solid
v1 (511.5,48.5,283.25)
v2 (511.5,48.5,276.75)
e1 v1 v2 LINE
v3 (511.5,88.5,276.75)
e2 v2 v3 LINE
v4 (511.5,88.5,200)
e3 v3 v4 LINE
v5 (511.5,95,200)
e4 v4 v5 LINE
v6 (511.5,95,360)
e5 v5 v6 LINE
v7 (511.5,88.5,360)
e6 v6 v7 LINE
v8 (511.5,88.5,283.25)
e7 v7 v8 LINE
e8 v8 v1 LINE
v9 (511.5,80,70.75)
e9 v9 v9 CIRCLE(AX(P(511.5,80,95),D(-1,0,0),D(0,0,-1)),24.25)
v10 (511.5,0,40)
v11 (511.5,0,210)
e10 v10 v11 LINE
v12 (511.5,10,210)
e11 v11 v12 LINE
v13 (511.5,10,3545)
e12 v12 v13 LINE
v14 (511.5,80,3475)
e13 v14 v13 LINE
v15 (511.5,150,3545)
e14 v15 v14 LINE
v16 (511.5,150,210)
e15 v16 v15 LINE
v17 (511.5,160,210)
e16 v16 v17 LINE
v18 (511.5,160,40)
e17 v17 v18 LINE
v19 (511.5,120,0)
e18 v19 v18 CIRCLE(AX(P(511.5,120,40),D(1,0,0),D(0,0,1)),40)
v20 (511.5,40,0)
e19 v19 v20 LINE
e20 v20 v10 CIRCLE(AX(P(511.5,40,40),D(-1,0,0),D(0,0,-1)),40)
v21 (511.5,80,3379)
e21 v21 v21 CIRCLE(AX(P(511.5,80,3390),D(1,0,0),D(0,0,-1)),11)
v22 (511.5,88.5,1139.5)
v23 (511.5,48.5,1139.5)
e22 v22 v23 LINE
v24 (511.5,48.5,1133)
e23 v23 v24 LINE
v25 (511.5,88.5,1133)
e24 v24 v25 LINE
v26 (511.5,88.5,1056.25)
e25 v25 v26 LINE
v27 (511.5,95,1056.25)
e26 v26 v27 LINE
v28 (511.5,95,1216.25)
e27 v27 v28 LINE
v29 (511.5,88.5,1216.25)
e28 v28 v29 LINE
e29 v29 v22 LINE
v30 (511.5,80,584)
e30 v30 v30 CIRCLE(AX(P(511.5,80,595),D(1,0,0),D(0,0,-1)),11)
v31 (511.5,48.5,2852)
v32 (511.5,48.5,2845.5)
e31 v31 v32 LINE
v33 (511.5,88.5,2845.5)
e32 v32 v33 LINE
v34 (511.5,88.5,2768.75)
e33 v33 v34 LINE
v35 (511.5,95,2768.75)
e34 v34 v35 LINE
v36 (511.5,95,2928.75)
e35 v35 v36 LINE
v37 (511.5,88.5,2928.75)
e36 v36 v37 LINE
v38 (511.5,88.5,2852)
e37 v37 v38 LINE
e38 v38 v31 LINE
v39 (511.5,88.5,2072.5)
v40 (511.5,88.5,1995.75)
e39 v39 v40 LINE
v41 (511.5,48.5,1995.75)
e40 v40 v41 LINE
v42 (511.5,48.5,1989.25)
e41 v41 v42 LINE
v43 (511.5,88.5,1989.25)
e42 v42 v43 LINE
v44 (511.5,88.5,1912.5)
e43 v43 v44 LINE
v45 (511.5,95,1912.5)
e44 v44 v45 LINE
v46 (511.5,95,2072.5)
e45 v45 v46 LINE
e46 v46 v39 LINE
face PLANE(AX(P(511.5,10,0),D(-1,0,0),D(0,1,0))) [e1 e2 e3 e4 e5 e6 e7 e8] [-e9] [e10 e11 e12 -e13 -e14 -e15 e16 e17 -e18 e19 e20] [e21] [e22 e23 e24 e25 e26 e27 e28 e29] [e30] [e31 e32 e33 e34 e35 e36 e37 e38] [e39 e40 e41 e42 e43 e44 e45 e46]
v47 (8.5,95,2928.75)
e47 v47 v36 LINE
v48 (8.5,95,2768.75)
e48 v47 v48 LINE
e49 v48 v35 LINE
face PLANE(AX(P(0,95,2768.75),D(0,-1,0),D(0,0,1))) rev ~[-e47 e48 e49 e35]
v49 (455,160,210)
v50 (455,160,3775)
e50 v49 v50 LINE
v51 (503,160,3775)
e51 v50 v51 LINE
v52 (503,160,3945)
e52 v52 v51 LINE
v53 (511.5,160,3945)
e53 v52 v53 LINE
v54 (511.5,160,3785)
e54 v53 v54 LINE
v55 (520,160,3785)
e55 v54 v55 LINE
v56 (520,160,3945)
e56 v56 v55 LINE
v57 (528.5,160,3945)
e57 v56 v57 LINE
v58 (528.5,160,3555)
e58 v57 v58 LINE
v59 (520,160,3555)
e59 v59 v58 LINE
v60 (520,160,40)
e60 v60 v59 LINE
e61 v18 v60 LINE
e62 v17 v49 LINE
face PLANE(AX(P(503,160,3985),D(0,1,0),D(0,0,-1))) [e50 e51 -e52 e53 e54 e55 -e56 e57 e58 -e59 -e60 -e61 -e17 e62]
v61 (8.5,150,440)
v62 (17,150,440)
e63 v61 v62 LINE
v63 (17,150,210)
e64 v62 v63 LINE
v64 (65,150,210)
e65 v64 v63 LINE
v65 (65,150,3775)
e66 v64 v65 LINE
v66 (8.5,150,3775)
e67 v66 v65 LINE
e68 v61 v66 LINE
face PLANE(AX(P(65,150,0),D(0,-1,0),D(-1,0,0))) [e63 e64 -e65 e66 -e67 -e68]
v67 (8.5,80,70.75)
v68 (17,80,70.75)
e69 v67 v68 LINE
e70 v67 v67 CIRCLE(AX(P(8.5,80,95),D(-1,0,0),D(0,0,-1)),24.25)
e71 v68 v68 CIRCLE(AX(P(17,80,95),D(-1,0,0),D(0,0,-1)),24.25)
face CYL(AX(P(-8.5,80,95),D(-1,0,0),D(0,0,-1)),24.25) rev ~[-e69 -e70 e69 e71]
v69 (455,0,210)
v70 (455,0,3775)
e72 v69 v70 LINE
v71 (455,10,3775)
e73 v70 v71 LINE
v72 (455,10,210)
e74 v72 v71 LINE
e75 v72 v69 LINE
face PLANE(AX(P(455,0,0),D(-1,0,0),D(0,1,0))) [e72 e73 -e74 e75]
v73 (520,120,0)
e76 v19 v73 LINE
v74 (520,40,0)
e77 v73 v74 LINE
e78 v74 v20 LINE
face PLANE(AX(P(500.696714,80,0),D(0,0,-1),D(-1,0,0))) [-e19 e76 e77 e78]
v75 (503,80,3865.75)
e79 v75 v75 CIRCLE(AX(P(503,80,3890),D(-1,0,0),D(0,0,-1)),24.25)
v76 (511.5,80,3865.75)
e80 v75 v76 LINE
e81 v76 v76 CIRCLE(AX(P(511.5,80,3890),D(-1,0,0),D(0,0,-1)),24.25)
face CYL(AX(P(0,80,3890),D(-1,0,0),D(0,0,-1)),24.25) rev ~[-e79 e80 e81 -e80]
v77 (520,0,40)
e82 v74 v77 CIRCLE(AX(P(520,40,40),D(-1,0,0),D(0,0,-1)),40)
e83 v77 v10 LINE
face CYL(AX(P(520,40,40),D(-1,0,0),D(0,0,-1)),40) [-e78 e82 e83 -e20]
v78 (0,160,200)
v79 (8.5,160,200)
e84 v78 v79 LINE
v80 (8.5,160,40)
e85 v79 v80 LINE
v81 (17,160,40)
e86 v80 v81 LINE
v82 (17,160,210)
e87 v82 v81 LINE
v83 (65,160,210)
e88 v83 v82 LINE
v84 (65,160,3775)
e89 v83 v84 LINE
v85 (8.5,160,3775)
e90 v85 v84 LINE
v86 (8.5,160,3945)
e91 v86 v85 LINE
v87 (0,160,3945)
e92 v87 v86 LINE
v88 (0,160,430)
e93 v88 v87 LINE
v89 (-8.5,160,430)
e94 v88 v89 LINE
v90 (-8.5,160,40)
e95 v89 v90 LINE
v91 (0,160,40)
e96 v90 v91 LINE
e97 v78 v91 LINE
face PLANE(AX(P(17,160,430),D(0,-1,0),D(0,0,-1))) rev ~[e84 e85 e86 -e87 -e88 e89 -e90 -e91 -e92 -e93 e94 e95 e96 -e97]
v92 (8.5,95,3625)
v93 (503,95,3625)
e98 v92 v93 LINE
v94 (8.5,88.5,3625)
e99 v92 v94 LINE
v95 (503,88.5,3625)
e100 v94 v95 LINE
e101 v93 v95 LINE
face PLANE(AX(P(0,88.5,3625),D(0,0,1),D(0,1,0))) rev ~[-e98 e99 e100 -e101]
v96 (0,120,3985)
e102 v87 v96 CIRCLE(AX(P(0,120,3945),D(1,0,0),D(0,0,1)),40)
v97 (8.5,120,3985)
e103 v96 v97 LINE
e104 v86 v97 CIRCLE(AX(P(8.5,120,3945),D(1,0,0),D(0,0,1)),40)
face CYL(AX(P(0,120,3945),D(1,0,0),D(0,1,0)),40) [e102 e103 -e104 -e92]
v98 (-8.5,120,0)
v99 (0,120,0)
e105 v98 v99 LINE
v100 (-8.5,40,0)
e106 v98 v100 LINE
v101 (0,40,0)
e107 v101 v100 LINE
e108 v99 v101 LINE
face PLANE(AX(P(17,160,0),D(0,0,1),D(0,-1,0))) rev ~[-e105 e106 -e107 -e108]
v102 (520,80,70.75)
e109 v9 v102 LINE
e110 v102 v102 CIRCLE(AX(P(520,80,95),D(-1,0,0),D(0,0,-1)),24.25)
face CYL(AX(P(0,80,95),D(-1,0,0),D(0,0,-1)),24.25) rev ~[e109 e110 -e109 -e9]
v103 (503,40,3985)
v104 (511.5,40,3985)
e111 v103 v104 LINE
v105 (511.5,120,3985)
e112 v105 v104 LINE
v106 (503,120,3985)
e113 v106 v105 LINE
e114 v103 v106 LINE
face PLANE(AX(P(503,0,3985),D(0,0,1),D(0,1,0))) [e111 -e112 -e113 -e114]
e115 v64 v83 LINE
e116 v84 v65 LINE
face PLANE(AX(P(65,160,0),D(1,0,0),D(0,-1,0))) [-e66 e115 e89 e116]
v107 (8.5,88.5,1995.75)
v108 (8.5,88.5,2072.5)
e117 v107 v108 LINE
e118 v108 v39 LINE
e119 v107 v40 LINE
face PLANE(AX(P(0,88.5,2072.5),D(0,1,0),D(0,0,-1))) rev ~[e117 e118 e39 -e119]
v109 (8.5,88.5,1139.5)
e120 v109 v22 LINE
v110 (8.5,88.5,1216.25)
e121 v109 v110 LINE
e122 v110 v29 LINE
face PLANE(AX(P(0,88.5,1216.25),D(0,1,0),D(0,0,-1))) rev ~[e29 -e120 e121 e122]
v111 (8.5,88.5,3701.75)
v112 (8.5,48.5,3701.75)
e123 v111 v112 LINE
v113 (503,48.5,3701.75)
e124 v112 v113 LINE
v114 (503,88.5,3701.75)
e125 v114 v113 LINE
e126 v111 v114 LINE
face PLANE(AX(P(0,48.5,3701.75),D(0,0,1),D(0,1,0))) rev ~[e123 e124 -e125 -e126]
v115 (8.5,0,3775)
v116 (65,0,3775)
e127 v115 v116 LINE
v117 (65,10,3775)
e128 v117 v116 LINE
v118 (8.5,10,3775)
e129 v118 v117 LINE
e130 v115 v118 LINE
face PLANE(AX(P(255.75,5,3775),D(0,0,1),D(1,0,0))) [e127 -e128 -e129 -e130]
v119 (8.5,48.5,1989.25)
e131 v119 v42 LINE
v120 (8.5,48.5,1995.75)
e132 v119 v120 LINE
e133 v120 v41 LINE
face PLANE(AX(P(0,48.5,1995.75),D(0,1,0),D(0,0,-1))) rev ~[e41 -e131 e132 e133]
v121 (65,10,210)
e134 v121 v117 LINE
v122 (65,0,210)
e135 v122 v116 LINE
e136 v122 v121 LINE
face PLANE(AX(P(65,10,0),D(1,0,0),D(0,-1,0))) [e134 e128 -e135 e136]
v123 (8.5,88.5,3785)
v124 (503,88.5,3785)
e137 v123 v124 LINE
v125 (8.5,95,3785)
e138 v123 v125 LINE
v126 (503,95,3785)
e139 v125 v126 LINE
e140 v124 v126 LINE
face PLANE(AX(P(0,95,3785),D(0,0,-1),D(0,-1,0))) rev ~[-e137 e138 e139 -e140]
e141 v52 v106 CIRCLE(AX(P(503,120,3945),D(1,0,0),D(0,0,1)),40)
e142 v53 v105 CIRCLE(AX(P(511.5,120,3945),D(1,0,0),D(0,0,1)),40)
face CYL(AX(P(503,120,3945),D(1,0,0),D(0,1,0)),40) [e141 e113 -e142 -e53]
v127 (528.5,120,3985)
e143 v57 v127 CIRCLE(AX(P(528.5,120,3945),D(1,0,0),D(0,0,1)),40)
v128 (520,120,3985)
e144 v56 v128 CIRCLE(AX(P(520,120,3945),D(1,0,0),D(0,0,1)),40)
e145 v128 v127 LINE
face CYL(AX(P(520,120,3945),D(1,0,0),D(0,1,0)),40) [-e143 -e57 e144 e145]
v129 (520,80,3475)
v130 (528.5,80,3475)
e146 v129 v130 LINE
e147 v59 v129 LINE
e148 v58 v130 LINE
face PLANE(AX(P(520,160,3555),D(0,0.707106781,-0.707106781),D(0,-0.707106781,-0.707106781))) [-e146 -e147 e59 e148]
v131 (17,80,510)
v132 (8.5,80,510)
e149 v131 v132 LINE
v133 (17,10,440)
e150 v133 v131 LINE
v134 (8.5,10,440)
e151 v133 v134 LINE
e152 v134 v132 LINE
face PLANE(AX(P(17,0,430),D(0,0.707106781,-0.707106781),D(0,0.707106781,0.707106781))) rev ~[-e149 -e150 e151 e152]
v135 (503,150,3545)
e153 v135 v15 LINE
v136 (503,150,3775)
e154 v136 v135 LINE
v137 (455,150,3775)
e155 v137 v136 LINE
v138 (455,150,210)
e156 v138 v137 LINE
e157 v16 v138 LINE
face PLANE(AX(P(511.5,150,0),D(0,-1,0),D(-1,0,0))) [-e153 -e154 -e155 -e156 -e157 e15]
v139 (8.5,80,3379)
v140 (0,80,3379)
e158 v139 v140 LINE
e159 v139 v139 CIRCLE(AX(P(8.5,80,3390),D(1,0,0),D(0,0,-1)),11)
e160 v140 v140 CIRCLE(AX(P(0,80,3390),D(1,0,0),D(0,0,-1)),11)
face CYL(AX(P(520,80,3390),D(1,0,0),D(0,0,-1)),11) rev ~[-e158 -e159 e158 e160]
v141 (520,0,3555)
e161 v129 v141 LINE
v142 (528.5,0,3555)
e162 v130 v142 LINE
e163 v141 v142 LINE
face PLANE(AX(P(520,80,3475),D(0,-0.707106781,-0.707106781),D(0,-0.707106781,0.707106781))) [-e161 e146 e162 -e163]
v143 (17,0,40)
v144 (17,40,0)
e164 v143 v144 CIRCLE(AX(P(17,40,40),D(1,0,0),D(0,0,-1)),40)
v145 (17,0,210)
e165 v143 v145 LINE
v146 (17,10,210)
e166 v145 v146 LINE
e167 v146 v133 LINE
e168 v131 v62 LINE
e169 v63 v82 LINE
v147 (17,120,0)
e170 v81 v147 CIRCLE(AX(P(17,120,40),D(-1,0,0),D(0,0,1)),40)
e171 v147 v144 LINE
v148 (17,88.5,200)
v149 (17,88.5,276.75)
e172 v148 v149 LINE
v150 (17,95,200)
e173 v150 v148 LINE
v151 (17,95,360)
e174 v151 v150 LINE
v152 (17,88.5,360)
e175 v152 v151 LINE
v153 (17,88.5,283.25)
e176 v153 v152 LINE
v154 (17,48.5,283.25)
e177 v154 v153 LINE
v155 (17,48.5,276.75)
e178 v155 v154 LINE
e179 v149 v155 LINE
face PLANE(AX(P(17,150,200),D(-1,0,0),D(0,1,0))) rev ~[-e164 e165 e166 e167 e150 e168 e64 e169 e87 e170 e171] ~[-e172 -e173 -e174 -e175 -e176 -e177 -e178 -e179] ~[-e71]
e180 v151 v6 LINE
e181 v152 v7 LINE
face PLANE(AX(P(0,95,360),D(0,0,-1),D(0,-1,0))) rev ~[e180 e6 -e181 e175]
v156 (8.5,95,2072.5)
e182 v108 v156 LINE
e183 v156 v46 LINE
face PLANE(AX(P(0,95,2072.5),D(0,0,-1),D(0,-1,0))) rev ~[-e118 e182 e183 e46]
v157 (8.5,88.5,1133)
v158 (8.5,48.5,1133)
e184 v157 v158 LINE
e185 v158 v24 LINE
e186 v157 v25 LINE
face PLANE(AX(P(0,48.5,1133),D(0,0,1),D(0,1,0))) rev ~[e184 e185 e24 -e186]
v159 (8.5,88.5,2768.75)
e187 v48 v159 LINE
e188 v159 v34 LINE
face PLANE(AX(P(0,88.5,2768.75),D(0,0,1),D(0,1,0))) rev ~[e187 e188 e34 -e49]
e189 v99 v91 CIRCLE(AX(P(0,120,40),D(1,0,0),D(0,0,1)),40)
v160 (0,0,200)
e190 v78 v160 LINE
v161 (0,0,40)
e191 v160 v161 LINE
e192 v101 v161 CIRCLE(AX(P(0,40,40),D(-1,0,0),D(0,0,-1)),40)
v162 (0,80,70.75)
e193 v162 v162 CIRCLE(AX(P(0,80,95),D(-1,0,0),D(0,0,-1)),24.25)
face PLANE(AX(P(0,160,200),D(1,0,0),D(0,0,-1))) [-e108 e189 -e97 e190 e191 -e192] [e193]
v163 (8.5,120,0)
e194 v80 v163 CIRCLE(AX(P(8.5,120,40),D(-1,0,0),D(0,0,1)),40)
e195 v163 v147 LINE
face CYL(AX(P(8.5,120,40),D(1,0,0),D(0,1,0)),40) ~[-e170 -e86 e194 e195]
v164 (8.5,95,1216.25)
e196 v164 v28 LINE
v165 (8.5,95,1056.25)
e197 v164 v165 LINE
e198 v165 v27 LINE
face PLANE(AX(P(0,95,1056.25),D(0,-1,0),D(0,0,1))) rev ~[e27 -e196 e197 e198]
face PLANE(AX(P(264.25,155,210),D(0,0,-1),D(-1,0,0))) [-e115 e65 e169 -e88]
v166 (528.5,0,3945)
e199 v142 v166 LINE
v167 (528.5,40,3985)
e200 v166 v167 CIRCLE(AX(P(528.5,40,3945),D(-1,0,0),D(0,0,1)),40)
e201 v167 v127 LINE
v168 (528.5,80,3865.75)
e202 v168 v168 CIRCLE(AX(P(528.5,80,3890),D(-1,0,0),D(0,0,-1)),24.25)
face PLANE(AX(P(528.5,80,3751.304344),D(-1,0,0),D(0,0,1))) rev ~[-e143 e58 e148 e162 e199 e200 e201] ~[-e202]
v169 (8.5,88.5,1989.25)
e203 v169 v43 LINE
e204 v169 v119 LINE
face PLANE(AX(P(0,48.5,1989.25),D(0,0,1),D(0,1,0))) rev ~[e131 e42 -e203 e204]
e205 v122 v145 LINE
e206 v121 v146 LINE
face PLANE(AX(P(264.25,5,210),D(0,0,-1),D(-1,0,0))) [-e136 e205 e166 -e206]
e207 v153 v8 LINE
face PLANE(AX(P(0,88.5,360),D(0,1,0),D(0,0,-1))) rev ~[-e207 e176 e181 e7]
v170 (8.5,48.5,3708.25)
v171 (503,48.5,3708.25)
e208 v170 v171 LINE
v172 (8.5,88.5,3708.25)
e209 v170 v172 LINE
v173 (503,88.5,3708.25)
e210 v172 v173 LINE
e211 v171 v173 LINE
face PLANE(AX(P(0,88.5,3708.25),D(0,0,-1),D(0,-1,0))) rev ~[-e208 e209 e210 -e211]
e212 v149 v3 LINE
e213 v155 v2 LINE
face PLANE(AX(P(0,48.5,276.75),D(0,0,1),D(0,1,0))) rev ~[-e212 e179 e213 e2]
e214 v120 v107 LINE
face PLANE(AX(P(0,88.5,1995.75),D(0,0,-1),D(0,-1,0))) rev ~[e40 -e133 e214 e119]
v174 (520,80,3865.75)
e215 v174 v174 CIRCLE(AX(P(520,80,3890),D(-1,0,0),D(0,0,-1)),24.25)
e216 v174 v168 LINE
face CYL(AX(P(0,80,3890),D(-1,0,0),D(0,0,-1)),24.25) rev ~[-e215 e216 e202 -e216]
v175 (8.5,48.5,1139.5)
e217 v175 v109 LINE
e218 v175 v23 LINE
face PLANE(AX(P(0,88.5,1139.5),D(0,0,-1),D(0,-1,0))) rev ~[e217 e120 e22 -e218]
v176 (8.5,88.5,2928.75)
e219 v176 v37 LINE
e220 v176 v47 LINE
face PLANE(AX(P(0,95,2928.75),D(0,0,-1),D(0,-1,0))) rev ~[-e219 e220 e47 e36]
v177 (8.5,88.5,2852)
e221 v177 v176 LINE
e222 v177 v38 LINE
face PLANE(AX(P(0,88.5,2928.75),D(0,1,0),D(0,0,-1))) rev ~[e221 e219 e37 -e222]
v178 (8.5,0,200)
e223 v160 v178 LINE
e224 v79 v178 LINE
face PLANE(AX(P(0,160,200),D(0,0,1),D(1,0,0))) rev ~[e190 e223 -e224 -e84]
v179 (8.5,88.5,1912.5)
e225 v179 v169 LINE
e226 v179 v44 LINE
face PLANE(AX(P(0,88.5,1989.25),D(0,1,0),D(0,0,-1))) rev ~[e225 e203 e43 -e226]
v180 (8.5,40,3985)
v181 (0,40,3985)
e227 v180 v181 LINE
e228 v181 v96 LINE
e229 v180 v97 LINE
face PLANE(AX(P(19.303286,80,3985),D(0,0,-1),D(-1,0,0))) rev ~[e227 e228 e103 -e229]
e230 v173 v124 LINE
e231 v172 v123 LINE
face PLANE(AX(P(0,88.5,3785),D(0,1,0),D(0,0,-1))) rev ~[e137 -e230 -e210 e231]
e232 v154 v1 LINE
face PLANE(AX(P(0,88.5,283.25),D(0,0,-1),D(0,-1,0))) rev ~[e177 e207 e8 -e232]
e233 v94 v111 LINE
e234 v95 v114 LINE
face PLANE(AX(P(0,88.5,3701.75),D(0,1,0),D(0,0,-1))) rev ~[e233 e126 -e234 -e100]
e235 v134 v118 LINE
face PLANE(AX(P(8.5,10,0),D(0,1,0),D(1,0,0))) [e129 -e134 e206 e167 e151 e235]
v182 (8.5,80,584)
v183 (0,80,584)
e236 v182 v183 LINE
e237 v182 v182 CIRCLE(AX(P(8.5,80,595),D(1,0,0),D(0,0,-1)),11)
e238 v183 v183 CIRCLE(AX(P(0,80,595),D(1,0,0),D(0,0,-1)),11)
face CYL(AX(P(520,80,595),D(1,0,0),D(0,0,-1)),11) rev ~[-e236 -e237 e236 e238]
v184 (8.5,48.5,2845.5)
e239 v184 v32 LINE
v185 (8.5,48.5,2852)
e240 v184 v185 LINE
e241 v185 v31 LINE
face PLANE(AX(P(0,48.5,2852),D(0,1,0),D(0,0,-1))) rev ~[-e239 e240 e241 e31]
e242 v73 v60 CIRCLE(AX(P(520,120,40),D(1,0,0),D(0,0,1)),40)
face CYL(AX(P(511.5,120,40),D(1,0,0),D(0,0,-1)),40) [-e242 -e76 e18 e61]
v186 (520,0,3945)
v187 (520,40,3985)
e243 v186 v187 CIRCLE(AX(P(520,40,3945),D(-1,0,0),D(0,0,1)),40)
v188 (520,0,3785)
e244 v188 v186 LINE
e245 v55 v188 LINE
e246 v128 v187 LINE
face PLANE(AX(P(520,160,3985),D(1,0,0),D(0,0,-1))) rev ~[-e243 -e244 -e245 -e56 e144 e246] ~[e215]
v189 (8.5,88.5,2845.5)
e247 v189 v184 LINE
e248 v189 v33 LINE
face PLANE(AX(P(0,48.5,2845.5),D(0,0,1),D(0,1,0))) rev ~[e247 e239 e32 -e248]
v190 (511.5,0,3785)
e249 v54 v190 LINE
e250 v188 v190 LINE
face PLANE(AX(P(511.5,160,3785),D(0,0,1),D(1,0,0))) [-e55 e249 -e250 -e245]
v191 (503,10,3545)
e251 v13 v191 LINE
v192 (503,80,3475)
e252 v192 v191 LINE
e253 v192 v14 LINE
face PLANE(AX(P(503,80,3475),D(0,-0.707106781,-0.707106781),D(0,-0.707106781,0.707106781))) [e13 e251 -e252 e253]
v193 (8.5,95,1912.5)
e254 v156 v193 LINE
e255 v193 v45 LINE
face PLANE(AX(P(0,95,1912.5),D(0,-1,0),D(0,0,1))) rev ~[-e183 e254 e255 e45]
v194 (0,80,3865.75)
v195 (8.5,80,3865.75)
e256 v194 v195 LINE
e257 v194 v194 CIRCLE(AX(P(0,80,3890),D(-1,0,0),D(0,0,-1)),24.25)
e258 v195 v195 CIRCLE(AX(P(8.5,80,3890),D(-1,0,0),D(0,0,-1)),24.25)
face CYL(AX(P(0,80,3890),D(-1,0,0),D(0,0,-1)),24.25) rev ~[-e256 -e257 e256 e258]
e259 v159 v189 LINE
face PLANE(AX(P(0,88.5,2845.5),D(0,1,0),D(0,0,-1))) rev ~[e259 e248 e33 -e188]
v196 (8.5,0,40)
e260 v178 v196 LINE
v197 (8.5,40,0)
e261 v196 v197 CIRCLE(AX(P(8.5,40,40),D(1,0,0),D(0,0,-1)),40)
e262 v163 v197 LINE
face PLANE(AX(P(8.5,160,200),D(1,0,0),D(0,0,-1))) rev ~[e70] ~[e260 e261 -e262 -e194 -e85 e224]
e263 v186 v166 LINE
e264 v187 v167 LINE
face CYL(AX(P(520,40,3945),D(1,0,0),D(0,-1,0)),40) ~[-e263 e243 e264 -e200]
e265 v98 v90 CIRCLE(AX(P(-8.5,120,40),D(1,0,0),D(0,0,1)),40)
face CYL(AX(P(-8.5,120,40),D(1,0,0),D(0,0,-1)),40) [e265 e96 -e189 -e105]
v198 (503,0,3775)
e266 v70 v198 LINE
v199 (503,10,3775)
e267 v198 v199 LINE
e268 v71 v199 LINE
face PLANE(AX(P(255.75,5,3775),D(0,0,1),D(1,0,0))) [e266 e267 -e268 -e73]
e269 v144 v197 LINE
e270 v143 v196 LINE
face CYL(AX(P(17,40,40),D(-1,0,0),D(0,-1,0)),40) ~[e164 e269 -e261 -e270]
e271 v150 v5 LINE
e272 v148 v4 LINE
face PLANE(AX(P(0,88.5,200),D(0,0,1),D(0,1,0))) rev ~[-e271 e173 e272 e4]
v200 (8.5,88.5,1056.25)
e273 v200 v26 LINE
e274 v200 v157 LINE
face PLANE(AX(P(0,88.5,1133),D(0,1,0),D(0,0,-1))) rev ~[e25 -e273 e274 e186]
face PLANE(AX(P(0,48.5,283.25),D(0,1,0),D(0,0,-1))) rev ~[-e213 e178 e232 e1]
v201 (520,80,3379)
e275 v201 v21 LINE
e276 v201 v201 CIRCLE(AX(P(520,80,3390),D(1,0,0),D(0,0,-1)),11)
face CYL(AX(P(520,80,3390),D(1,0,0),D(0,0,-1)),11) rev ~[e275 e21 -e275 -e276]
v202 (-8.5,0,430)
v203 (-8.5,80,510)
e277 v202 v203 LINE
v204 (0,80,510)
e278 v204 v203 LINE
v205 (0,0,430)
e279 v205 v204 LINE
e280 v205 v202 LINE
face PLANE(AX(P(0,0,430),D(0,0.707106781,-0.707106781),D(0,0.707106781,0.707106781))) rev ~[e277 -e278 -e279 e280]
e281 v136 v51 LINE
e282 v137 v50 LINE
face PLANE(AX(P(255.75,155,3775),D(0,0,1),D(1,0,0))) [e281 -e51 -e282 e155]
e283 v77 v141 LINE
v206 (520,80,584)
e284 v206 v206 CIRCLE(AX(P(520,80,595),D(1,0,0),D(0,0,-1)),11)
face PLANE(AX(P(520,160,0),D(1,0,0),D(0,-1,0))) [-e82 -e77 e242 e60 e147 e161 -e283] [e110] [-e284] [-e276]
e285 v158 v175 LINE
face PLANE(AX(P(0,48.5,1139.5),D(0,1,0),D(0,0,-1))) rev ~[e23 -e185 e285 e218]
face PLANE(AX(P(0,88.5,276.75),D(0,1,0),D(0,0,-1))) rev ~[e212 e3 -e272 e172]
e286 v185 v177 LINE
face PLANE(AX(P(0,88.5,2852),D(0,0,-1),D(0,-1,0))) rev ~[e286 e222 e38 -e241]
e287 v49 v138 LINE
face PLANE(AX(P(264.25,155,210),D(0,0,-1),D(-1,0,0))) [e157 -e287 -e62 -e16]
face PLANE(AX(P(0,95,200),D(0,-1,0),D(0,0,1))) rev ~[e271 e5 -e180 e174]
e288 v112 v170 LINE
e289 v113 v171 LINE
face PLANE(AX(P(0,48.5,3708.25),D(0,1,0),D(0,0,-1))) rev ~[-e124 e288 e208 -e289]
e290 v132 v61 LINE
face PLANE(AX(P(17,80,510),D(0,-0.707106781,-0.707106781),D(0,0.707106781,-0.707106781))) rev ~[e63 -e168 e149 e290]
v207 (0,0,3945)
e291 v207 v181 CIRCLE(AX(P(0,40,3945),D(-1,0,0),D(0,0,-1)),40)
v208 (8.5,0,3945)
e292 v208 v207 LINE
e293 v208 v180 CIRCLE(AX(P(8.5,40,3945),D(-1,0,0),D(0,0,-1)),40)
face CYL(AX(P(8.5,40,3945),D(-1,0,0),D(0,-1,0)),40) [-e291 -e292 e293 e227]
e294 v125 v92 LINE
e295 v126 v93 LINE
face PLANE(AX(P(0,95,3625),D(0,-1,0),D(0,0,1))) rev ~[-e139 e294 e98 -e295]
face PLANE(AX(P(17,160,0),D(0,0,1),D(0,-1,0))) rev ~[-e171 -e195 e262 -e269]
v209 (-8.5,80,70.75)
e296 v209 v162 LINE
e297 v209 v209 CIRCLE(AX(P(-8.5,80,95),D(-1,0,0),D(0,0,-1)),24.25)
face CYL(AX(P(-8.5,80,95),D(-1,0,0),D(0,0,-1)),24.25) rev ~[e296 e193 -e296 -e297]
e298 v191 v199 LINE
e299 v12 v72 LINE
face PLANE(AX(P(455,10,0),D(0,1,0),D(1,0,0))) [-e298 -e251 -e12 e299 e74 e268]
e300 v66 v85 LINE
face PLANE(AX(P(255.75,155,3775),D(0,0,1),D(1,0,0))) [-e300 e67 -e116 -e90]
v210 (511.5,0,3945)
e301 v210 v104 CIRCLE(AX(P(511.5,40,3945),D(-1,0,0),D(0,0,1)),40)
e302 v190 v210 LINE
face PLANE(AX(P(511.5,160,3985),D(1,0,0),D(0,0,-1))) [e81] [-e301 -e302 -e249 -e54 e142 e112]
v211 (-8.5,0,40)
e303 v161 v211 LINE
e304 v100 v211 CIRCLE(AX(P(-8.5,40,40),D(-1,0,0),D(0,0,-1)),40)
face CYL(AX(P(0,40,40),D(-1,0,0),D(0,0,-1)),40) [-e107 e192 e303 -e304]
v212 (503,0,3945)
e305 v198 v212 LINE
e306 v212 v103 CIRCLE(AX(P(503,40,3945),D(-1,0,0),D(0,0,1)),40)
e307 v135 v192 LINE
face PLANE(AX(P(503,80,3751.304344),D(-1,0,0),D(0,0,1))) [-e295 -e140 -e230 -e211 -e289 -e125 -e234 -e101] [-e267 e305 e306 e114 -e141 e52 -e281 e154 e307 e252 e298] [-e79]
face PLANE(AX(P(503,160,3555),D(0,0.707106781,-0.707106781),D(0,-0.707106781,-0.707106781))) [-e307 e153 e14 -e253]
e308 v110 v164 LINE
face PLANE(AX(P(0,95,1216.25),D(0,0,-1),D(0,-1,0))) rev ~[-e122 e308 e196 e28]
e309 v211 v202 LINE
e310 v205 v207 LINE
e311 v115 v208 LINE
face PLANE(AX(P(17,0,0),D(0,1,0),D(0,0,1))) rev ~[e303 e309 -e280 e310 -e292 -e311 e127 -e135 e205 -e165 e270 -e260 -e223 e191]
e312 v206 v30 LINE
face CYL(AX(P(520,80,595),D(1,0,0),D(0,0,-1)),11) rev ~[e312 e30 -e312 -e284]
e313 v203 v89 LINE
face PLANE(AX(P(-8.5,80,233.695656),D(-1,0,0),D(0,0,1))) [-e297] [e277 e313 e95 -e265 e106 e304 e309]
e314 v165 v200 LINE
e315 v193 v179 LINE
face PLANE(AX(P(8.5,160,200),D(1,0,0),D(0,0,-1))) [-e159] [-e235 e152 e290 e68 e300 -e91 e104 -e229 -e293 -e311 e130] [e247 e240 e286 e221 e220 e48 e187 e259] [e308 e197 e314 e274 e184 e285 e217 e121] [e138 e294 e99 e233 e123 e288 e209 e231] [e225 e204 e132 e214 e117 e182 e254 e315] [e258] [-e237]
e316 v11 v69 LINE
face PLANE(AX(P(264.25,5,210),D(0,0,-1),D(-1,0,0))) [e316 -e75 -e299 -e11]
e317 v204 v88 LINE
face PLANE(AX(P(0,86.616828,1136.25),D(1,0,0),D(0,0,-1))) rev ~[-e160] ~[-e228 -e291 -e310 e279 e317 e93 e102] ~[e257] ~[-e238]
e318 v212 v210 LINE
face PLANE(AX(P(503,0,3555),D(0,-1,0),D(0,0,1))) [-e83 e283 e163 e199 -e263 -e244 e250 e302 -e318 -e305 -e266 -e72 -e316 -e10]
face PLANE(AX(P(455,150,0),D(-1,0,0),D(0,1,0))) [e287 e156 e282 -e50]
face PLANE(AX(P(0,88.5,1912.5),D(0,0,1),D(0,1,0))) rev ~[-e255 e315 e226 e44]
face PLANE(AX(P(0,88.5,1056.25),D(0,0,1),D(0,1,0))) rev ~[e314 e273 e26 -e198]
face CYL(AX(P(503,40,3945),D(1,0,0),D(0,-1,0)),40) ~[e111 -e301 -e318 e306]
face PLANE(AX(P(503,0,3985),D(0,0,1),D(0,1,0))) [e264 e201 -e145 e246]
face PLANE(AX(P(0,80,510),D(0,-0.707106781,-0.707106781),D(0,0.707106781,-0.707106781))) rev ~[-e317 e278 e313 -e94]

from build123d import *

# Parameters (mm, degrees)
EXTRUDE_1_DEPTH        = 3985
EXTRUDE_1_2_DEPTH      = 3985
EXTRUDE_3_DEPTH        = 520
SKETCH_6_W             = 503
SKETCH_6_H             = 200
CUT_EXTRUDE_4_DEPTH    = 4022.96780196
PATTERN_LINEAR_1_COUNT = 5
PATTERN_LINEAR_1_PITCH = 856.25
EXTRUDE_11_DEPTH       = 8.5
PATTERN_LINEAR_2_COUNT = 2
PATTERN_LINEAR_2_PITCH = 17
SKETCH_22_W            = 8.5
SKETCH_22_H            = 200
CUT_EXTRUDE_12_DEPTH   = 4024.075595859
SKETCH_23_R            = 24.25
CUT_EXTRUDE_13_DEPTH   = 4024.075595859
EXTRUDE_14_DEPTH       = 8.5
PATTERN_LINEAR_3_COUNT = 2
PATTERN_LINEAR_3_PITCH = 17
SKETCH_27_W            = 8.5
SKETCH_27_H            = 200
CUT_EXTRUDE_15_DEPTH   = 4024.075595859
SKETCH_28_R            = 24.25
CUT_EXTRUDE_16_DEPTH   = 4025.201038716
FILLET_2_R             = 40
SKETCH_29_W            = 494.5
SKETCH_29_H            = 10
CUT_EXTRUDE_17_DEPTH   = 10
SKETCH_30_W            = 494.5
SKETCH_30_H            = 10
CUT_EXTRUDE_18_DEPTH   = 10
SKETCH_31_R            = 11
CUT_EXTRUDE_19_DEPTH   = 4024.075595859


with BuildPart() as part:
    # 草图2 → 拉伸1 (new body)
    with BuildSketch(Plane.XY):
        Polygon((0, 0), (0, 160), (65, 160), (65, 150), (8.5, 150), (8.5, 10), (65, 10), (65, 0), align=None)
    extrude(amount=EXTRUDE_1_DEPTH)



with BuildPart() as body_2:
    # 草图2 → Extrude 1 2 (new body)
    with BuildSketch(Plane.XY):
        Polygon((455, 160), (520, 160), (520, 0), (455, 0), (455, 10), (511.5, 10), (511.5, 150), (455, 150), align=None)
    extrude(amount=EXTRUDE_1_2_DEPTH)


with BuildPart() as part_1:
    add(part.part)

    add(body_2.part)  # 拉伸3 merges body 2
    # 草图5 → 拉伸3 (add)
    with BuildSketch(Plane.ZY):
        Polygon((200, 95), (360, 95), (360, 88.5), (283.25, 88.5), (283.25, 48.5), (276.75, 48.5), (276.75, 88.5), (200, 88.5), align=None)
    extrude_3 = extrude(amount=-EXTRUDE_3_DEPTH)

    # 草图6 → 拉伸4 (cut, through all)
    with BuildSketch(Plane(origin=(0, 160, 0), x_dir=(1, 0, 0), z_dir=(0, 1, 0))):
        with Locations((260, -100)):
            Rectangle(SKETCH_6_W, SKETCH_6_H)
        with Locations((260, -3885)):
            Rectangle(SKETCH_6_W, SKETCH_6_H)
    extrude(amount=-CUT_EXTRUDE_4_DEPTH, mode=Mode.SUBTRACT)

    # 阵列(线性)1: 拉伸3 ×5
    with Locations(*[(0, 0, i * PATTERN_LINEAR_1_PITCH) for i in range(1, PATTERN_LINEAR_1_COUNT)]):
        add(extrude_3)

    # 草图19 → 拉伸11 (add)
    with BuildSketch(Plane(origin=(520, 0, 0), x_dir=(0, 0, -1), z_dir=(1, 0, 0))):
        Polygon((-3985, 160), (-3555, 160), (-3475, 80), (-3555, 0), (-3985, 0), align=None)
    extrude_11 = extrude(amount=EXTRUDE_11_DEPTH)

    # 阵列(线性)2: 拉伸11 ×2
    with Locations(*[(-i * PATTERN_LINEAR_2_PITCH, 0, 0) for i in range(1, PATTERN_LINEAR_2_COUNT)]):
        add(extrude_11)

    # 草图22 → 拉伸12 (cut, through all)
    with BuildSketch(Plane(origin=(0, 160, 0), x_dir=(1, 0, 0), z_dir=(0, 1, 0))):
        with Locations((515.75, -3885)):
            Rectangle(SKETCH_22_W, SKETCH_22_H)
    extrude(amount=-CUT_EXTRUDE_12_DEPTH, mode=Mode.SUBTRACT)

    # 草图23 → 拉伸13 (cut, through all)
    with BuildSketch(Plane.ZY):
        with Locations(Location((95, 80, 0), (0, 0, 180))):
            Circle(SKETCH_23_R)
        with Locations(Location((3890, 80, 0), (0, 0, 180))):
            Circle(SKETCH_23_R)
    extrude(amount=-CUT_EXTRUDE_13_DEPTH, mode=Mode.SUBTRACT)

    # 草图26 → 拉伸14 (add)
    with BuildSketch(Plane.ZY):
        Polygon((0, 160), (0, 0), (430, 0), (510, 80), (430, 160), align=None)
    extrude_14 = extrude(amount=EXTRUDE_14_DEPTH)

    # 阵列(线性)3: 拉伸14 ×2
    with Locations(*[(i * PATTERN_LINEAR_3_PITCH, 0, 0) for i in range(1, PATTERN_LINEAR_3_COUNT)]):
        add(extrude_14)

    # 草图27 → 拉伸15 (cut, through all)
    with BuildSketch(Plane(origin=(0, 160, 0), x_dir=(1, 0, 0), z_dir=(0, 1, 0))):
        with Locations((4.25, -100)):
            Rectangle(SKETCH_27_W, SKETCH_27_H)
    extrude(amount=-CUT_EXTRUDE_15_DEPTH, mode=Mode.SUBTRACT)

    # 草图28 → 拉伸16 (cut, through all)
    with BuildSketch(Plane.ZY.offset(8.5)):
        with Locations(Location((95, 80, 0), (0, 0, 180))):
            Circle(SKETCH_28_R)
    extrude(amount=-CUT_EXTRUDE_16_DEPTH, mode=Mode.SUBTRACT)

    # 圆角2
    fillet_2_edges = [part_1.edges().sort_by_distance(p)[0] for p in [
        (-4.25, 0, 0),
        (507.25, 0, 3985),
        (4.25, 160, 3985),
        (4.25, 0, 3985),
        (507.25, 160, 3985),
        (524.25, 0, 3985),
        (-4.25, 160, 0),
        (12.75, 0, 0),
        (515.75, 160, 0),
        (524.25, 160, 3985),
        (515.75, 0, 0),
        (12.75, 160, 0),
    ]]
    fillet(fillet_2_edges, radius=FILLET_2_R)

    # 草图29 → 拉伸17 (cut)
    with BuildSketch(Plane.XY.offset(3785)):
        with Locations((255.75, 155)):
            Rectangle(SKETCH_29_W, SKETCH_29_H)
        with Locations((255.75, 5)):
            Rectangle(SKETCH_29_W, SKETCH_29_H)
    extrude(amount=-CUT_EXTRUDE_17_DEPTH, mode=Mode.SUBTRACT)

    # 草图30 → 拉伸18 (cut)
    with BuildSketch(Plane(origin=(0, 0, 200), x_dir=(-1, 0, 0), z_dir=(0, 0, -1))):
        with Locations((-264.25, 155)):
            Rectangle(SKETCH_30_W, SKETCH_30_H)
        with Locations((-264.25, 5)):
            Rectangle(SKETCH_30_W, SKETCH_30_H)
    extrude(amount=-CUT_EXTRUDE_18_DEPTH, mode=Mode.SUBTRACT)

    # 草图31 → 拉伸19 (cut, through all)
    with BuildSketch(Plane(origin=(520, 0, 0), x_dir=(0, 0, -1), z_dir=(1, 0, 0))):
        with Locations((-595, 80)):
            Circle(SKETCH_31_R)
        with Locations((-3390, 80)):
            Circle(SKETCH_31_R)
    extrude(amount=-CUT_EXTRUDE_19_DEPTH, mode=Mode.SUBTRACT)


solid = part_1.part
